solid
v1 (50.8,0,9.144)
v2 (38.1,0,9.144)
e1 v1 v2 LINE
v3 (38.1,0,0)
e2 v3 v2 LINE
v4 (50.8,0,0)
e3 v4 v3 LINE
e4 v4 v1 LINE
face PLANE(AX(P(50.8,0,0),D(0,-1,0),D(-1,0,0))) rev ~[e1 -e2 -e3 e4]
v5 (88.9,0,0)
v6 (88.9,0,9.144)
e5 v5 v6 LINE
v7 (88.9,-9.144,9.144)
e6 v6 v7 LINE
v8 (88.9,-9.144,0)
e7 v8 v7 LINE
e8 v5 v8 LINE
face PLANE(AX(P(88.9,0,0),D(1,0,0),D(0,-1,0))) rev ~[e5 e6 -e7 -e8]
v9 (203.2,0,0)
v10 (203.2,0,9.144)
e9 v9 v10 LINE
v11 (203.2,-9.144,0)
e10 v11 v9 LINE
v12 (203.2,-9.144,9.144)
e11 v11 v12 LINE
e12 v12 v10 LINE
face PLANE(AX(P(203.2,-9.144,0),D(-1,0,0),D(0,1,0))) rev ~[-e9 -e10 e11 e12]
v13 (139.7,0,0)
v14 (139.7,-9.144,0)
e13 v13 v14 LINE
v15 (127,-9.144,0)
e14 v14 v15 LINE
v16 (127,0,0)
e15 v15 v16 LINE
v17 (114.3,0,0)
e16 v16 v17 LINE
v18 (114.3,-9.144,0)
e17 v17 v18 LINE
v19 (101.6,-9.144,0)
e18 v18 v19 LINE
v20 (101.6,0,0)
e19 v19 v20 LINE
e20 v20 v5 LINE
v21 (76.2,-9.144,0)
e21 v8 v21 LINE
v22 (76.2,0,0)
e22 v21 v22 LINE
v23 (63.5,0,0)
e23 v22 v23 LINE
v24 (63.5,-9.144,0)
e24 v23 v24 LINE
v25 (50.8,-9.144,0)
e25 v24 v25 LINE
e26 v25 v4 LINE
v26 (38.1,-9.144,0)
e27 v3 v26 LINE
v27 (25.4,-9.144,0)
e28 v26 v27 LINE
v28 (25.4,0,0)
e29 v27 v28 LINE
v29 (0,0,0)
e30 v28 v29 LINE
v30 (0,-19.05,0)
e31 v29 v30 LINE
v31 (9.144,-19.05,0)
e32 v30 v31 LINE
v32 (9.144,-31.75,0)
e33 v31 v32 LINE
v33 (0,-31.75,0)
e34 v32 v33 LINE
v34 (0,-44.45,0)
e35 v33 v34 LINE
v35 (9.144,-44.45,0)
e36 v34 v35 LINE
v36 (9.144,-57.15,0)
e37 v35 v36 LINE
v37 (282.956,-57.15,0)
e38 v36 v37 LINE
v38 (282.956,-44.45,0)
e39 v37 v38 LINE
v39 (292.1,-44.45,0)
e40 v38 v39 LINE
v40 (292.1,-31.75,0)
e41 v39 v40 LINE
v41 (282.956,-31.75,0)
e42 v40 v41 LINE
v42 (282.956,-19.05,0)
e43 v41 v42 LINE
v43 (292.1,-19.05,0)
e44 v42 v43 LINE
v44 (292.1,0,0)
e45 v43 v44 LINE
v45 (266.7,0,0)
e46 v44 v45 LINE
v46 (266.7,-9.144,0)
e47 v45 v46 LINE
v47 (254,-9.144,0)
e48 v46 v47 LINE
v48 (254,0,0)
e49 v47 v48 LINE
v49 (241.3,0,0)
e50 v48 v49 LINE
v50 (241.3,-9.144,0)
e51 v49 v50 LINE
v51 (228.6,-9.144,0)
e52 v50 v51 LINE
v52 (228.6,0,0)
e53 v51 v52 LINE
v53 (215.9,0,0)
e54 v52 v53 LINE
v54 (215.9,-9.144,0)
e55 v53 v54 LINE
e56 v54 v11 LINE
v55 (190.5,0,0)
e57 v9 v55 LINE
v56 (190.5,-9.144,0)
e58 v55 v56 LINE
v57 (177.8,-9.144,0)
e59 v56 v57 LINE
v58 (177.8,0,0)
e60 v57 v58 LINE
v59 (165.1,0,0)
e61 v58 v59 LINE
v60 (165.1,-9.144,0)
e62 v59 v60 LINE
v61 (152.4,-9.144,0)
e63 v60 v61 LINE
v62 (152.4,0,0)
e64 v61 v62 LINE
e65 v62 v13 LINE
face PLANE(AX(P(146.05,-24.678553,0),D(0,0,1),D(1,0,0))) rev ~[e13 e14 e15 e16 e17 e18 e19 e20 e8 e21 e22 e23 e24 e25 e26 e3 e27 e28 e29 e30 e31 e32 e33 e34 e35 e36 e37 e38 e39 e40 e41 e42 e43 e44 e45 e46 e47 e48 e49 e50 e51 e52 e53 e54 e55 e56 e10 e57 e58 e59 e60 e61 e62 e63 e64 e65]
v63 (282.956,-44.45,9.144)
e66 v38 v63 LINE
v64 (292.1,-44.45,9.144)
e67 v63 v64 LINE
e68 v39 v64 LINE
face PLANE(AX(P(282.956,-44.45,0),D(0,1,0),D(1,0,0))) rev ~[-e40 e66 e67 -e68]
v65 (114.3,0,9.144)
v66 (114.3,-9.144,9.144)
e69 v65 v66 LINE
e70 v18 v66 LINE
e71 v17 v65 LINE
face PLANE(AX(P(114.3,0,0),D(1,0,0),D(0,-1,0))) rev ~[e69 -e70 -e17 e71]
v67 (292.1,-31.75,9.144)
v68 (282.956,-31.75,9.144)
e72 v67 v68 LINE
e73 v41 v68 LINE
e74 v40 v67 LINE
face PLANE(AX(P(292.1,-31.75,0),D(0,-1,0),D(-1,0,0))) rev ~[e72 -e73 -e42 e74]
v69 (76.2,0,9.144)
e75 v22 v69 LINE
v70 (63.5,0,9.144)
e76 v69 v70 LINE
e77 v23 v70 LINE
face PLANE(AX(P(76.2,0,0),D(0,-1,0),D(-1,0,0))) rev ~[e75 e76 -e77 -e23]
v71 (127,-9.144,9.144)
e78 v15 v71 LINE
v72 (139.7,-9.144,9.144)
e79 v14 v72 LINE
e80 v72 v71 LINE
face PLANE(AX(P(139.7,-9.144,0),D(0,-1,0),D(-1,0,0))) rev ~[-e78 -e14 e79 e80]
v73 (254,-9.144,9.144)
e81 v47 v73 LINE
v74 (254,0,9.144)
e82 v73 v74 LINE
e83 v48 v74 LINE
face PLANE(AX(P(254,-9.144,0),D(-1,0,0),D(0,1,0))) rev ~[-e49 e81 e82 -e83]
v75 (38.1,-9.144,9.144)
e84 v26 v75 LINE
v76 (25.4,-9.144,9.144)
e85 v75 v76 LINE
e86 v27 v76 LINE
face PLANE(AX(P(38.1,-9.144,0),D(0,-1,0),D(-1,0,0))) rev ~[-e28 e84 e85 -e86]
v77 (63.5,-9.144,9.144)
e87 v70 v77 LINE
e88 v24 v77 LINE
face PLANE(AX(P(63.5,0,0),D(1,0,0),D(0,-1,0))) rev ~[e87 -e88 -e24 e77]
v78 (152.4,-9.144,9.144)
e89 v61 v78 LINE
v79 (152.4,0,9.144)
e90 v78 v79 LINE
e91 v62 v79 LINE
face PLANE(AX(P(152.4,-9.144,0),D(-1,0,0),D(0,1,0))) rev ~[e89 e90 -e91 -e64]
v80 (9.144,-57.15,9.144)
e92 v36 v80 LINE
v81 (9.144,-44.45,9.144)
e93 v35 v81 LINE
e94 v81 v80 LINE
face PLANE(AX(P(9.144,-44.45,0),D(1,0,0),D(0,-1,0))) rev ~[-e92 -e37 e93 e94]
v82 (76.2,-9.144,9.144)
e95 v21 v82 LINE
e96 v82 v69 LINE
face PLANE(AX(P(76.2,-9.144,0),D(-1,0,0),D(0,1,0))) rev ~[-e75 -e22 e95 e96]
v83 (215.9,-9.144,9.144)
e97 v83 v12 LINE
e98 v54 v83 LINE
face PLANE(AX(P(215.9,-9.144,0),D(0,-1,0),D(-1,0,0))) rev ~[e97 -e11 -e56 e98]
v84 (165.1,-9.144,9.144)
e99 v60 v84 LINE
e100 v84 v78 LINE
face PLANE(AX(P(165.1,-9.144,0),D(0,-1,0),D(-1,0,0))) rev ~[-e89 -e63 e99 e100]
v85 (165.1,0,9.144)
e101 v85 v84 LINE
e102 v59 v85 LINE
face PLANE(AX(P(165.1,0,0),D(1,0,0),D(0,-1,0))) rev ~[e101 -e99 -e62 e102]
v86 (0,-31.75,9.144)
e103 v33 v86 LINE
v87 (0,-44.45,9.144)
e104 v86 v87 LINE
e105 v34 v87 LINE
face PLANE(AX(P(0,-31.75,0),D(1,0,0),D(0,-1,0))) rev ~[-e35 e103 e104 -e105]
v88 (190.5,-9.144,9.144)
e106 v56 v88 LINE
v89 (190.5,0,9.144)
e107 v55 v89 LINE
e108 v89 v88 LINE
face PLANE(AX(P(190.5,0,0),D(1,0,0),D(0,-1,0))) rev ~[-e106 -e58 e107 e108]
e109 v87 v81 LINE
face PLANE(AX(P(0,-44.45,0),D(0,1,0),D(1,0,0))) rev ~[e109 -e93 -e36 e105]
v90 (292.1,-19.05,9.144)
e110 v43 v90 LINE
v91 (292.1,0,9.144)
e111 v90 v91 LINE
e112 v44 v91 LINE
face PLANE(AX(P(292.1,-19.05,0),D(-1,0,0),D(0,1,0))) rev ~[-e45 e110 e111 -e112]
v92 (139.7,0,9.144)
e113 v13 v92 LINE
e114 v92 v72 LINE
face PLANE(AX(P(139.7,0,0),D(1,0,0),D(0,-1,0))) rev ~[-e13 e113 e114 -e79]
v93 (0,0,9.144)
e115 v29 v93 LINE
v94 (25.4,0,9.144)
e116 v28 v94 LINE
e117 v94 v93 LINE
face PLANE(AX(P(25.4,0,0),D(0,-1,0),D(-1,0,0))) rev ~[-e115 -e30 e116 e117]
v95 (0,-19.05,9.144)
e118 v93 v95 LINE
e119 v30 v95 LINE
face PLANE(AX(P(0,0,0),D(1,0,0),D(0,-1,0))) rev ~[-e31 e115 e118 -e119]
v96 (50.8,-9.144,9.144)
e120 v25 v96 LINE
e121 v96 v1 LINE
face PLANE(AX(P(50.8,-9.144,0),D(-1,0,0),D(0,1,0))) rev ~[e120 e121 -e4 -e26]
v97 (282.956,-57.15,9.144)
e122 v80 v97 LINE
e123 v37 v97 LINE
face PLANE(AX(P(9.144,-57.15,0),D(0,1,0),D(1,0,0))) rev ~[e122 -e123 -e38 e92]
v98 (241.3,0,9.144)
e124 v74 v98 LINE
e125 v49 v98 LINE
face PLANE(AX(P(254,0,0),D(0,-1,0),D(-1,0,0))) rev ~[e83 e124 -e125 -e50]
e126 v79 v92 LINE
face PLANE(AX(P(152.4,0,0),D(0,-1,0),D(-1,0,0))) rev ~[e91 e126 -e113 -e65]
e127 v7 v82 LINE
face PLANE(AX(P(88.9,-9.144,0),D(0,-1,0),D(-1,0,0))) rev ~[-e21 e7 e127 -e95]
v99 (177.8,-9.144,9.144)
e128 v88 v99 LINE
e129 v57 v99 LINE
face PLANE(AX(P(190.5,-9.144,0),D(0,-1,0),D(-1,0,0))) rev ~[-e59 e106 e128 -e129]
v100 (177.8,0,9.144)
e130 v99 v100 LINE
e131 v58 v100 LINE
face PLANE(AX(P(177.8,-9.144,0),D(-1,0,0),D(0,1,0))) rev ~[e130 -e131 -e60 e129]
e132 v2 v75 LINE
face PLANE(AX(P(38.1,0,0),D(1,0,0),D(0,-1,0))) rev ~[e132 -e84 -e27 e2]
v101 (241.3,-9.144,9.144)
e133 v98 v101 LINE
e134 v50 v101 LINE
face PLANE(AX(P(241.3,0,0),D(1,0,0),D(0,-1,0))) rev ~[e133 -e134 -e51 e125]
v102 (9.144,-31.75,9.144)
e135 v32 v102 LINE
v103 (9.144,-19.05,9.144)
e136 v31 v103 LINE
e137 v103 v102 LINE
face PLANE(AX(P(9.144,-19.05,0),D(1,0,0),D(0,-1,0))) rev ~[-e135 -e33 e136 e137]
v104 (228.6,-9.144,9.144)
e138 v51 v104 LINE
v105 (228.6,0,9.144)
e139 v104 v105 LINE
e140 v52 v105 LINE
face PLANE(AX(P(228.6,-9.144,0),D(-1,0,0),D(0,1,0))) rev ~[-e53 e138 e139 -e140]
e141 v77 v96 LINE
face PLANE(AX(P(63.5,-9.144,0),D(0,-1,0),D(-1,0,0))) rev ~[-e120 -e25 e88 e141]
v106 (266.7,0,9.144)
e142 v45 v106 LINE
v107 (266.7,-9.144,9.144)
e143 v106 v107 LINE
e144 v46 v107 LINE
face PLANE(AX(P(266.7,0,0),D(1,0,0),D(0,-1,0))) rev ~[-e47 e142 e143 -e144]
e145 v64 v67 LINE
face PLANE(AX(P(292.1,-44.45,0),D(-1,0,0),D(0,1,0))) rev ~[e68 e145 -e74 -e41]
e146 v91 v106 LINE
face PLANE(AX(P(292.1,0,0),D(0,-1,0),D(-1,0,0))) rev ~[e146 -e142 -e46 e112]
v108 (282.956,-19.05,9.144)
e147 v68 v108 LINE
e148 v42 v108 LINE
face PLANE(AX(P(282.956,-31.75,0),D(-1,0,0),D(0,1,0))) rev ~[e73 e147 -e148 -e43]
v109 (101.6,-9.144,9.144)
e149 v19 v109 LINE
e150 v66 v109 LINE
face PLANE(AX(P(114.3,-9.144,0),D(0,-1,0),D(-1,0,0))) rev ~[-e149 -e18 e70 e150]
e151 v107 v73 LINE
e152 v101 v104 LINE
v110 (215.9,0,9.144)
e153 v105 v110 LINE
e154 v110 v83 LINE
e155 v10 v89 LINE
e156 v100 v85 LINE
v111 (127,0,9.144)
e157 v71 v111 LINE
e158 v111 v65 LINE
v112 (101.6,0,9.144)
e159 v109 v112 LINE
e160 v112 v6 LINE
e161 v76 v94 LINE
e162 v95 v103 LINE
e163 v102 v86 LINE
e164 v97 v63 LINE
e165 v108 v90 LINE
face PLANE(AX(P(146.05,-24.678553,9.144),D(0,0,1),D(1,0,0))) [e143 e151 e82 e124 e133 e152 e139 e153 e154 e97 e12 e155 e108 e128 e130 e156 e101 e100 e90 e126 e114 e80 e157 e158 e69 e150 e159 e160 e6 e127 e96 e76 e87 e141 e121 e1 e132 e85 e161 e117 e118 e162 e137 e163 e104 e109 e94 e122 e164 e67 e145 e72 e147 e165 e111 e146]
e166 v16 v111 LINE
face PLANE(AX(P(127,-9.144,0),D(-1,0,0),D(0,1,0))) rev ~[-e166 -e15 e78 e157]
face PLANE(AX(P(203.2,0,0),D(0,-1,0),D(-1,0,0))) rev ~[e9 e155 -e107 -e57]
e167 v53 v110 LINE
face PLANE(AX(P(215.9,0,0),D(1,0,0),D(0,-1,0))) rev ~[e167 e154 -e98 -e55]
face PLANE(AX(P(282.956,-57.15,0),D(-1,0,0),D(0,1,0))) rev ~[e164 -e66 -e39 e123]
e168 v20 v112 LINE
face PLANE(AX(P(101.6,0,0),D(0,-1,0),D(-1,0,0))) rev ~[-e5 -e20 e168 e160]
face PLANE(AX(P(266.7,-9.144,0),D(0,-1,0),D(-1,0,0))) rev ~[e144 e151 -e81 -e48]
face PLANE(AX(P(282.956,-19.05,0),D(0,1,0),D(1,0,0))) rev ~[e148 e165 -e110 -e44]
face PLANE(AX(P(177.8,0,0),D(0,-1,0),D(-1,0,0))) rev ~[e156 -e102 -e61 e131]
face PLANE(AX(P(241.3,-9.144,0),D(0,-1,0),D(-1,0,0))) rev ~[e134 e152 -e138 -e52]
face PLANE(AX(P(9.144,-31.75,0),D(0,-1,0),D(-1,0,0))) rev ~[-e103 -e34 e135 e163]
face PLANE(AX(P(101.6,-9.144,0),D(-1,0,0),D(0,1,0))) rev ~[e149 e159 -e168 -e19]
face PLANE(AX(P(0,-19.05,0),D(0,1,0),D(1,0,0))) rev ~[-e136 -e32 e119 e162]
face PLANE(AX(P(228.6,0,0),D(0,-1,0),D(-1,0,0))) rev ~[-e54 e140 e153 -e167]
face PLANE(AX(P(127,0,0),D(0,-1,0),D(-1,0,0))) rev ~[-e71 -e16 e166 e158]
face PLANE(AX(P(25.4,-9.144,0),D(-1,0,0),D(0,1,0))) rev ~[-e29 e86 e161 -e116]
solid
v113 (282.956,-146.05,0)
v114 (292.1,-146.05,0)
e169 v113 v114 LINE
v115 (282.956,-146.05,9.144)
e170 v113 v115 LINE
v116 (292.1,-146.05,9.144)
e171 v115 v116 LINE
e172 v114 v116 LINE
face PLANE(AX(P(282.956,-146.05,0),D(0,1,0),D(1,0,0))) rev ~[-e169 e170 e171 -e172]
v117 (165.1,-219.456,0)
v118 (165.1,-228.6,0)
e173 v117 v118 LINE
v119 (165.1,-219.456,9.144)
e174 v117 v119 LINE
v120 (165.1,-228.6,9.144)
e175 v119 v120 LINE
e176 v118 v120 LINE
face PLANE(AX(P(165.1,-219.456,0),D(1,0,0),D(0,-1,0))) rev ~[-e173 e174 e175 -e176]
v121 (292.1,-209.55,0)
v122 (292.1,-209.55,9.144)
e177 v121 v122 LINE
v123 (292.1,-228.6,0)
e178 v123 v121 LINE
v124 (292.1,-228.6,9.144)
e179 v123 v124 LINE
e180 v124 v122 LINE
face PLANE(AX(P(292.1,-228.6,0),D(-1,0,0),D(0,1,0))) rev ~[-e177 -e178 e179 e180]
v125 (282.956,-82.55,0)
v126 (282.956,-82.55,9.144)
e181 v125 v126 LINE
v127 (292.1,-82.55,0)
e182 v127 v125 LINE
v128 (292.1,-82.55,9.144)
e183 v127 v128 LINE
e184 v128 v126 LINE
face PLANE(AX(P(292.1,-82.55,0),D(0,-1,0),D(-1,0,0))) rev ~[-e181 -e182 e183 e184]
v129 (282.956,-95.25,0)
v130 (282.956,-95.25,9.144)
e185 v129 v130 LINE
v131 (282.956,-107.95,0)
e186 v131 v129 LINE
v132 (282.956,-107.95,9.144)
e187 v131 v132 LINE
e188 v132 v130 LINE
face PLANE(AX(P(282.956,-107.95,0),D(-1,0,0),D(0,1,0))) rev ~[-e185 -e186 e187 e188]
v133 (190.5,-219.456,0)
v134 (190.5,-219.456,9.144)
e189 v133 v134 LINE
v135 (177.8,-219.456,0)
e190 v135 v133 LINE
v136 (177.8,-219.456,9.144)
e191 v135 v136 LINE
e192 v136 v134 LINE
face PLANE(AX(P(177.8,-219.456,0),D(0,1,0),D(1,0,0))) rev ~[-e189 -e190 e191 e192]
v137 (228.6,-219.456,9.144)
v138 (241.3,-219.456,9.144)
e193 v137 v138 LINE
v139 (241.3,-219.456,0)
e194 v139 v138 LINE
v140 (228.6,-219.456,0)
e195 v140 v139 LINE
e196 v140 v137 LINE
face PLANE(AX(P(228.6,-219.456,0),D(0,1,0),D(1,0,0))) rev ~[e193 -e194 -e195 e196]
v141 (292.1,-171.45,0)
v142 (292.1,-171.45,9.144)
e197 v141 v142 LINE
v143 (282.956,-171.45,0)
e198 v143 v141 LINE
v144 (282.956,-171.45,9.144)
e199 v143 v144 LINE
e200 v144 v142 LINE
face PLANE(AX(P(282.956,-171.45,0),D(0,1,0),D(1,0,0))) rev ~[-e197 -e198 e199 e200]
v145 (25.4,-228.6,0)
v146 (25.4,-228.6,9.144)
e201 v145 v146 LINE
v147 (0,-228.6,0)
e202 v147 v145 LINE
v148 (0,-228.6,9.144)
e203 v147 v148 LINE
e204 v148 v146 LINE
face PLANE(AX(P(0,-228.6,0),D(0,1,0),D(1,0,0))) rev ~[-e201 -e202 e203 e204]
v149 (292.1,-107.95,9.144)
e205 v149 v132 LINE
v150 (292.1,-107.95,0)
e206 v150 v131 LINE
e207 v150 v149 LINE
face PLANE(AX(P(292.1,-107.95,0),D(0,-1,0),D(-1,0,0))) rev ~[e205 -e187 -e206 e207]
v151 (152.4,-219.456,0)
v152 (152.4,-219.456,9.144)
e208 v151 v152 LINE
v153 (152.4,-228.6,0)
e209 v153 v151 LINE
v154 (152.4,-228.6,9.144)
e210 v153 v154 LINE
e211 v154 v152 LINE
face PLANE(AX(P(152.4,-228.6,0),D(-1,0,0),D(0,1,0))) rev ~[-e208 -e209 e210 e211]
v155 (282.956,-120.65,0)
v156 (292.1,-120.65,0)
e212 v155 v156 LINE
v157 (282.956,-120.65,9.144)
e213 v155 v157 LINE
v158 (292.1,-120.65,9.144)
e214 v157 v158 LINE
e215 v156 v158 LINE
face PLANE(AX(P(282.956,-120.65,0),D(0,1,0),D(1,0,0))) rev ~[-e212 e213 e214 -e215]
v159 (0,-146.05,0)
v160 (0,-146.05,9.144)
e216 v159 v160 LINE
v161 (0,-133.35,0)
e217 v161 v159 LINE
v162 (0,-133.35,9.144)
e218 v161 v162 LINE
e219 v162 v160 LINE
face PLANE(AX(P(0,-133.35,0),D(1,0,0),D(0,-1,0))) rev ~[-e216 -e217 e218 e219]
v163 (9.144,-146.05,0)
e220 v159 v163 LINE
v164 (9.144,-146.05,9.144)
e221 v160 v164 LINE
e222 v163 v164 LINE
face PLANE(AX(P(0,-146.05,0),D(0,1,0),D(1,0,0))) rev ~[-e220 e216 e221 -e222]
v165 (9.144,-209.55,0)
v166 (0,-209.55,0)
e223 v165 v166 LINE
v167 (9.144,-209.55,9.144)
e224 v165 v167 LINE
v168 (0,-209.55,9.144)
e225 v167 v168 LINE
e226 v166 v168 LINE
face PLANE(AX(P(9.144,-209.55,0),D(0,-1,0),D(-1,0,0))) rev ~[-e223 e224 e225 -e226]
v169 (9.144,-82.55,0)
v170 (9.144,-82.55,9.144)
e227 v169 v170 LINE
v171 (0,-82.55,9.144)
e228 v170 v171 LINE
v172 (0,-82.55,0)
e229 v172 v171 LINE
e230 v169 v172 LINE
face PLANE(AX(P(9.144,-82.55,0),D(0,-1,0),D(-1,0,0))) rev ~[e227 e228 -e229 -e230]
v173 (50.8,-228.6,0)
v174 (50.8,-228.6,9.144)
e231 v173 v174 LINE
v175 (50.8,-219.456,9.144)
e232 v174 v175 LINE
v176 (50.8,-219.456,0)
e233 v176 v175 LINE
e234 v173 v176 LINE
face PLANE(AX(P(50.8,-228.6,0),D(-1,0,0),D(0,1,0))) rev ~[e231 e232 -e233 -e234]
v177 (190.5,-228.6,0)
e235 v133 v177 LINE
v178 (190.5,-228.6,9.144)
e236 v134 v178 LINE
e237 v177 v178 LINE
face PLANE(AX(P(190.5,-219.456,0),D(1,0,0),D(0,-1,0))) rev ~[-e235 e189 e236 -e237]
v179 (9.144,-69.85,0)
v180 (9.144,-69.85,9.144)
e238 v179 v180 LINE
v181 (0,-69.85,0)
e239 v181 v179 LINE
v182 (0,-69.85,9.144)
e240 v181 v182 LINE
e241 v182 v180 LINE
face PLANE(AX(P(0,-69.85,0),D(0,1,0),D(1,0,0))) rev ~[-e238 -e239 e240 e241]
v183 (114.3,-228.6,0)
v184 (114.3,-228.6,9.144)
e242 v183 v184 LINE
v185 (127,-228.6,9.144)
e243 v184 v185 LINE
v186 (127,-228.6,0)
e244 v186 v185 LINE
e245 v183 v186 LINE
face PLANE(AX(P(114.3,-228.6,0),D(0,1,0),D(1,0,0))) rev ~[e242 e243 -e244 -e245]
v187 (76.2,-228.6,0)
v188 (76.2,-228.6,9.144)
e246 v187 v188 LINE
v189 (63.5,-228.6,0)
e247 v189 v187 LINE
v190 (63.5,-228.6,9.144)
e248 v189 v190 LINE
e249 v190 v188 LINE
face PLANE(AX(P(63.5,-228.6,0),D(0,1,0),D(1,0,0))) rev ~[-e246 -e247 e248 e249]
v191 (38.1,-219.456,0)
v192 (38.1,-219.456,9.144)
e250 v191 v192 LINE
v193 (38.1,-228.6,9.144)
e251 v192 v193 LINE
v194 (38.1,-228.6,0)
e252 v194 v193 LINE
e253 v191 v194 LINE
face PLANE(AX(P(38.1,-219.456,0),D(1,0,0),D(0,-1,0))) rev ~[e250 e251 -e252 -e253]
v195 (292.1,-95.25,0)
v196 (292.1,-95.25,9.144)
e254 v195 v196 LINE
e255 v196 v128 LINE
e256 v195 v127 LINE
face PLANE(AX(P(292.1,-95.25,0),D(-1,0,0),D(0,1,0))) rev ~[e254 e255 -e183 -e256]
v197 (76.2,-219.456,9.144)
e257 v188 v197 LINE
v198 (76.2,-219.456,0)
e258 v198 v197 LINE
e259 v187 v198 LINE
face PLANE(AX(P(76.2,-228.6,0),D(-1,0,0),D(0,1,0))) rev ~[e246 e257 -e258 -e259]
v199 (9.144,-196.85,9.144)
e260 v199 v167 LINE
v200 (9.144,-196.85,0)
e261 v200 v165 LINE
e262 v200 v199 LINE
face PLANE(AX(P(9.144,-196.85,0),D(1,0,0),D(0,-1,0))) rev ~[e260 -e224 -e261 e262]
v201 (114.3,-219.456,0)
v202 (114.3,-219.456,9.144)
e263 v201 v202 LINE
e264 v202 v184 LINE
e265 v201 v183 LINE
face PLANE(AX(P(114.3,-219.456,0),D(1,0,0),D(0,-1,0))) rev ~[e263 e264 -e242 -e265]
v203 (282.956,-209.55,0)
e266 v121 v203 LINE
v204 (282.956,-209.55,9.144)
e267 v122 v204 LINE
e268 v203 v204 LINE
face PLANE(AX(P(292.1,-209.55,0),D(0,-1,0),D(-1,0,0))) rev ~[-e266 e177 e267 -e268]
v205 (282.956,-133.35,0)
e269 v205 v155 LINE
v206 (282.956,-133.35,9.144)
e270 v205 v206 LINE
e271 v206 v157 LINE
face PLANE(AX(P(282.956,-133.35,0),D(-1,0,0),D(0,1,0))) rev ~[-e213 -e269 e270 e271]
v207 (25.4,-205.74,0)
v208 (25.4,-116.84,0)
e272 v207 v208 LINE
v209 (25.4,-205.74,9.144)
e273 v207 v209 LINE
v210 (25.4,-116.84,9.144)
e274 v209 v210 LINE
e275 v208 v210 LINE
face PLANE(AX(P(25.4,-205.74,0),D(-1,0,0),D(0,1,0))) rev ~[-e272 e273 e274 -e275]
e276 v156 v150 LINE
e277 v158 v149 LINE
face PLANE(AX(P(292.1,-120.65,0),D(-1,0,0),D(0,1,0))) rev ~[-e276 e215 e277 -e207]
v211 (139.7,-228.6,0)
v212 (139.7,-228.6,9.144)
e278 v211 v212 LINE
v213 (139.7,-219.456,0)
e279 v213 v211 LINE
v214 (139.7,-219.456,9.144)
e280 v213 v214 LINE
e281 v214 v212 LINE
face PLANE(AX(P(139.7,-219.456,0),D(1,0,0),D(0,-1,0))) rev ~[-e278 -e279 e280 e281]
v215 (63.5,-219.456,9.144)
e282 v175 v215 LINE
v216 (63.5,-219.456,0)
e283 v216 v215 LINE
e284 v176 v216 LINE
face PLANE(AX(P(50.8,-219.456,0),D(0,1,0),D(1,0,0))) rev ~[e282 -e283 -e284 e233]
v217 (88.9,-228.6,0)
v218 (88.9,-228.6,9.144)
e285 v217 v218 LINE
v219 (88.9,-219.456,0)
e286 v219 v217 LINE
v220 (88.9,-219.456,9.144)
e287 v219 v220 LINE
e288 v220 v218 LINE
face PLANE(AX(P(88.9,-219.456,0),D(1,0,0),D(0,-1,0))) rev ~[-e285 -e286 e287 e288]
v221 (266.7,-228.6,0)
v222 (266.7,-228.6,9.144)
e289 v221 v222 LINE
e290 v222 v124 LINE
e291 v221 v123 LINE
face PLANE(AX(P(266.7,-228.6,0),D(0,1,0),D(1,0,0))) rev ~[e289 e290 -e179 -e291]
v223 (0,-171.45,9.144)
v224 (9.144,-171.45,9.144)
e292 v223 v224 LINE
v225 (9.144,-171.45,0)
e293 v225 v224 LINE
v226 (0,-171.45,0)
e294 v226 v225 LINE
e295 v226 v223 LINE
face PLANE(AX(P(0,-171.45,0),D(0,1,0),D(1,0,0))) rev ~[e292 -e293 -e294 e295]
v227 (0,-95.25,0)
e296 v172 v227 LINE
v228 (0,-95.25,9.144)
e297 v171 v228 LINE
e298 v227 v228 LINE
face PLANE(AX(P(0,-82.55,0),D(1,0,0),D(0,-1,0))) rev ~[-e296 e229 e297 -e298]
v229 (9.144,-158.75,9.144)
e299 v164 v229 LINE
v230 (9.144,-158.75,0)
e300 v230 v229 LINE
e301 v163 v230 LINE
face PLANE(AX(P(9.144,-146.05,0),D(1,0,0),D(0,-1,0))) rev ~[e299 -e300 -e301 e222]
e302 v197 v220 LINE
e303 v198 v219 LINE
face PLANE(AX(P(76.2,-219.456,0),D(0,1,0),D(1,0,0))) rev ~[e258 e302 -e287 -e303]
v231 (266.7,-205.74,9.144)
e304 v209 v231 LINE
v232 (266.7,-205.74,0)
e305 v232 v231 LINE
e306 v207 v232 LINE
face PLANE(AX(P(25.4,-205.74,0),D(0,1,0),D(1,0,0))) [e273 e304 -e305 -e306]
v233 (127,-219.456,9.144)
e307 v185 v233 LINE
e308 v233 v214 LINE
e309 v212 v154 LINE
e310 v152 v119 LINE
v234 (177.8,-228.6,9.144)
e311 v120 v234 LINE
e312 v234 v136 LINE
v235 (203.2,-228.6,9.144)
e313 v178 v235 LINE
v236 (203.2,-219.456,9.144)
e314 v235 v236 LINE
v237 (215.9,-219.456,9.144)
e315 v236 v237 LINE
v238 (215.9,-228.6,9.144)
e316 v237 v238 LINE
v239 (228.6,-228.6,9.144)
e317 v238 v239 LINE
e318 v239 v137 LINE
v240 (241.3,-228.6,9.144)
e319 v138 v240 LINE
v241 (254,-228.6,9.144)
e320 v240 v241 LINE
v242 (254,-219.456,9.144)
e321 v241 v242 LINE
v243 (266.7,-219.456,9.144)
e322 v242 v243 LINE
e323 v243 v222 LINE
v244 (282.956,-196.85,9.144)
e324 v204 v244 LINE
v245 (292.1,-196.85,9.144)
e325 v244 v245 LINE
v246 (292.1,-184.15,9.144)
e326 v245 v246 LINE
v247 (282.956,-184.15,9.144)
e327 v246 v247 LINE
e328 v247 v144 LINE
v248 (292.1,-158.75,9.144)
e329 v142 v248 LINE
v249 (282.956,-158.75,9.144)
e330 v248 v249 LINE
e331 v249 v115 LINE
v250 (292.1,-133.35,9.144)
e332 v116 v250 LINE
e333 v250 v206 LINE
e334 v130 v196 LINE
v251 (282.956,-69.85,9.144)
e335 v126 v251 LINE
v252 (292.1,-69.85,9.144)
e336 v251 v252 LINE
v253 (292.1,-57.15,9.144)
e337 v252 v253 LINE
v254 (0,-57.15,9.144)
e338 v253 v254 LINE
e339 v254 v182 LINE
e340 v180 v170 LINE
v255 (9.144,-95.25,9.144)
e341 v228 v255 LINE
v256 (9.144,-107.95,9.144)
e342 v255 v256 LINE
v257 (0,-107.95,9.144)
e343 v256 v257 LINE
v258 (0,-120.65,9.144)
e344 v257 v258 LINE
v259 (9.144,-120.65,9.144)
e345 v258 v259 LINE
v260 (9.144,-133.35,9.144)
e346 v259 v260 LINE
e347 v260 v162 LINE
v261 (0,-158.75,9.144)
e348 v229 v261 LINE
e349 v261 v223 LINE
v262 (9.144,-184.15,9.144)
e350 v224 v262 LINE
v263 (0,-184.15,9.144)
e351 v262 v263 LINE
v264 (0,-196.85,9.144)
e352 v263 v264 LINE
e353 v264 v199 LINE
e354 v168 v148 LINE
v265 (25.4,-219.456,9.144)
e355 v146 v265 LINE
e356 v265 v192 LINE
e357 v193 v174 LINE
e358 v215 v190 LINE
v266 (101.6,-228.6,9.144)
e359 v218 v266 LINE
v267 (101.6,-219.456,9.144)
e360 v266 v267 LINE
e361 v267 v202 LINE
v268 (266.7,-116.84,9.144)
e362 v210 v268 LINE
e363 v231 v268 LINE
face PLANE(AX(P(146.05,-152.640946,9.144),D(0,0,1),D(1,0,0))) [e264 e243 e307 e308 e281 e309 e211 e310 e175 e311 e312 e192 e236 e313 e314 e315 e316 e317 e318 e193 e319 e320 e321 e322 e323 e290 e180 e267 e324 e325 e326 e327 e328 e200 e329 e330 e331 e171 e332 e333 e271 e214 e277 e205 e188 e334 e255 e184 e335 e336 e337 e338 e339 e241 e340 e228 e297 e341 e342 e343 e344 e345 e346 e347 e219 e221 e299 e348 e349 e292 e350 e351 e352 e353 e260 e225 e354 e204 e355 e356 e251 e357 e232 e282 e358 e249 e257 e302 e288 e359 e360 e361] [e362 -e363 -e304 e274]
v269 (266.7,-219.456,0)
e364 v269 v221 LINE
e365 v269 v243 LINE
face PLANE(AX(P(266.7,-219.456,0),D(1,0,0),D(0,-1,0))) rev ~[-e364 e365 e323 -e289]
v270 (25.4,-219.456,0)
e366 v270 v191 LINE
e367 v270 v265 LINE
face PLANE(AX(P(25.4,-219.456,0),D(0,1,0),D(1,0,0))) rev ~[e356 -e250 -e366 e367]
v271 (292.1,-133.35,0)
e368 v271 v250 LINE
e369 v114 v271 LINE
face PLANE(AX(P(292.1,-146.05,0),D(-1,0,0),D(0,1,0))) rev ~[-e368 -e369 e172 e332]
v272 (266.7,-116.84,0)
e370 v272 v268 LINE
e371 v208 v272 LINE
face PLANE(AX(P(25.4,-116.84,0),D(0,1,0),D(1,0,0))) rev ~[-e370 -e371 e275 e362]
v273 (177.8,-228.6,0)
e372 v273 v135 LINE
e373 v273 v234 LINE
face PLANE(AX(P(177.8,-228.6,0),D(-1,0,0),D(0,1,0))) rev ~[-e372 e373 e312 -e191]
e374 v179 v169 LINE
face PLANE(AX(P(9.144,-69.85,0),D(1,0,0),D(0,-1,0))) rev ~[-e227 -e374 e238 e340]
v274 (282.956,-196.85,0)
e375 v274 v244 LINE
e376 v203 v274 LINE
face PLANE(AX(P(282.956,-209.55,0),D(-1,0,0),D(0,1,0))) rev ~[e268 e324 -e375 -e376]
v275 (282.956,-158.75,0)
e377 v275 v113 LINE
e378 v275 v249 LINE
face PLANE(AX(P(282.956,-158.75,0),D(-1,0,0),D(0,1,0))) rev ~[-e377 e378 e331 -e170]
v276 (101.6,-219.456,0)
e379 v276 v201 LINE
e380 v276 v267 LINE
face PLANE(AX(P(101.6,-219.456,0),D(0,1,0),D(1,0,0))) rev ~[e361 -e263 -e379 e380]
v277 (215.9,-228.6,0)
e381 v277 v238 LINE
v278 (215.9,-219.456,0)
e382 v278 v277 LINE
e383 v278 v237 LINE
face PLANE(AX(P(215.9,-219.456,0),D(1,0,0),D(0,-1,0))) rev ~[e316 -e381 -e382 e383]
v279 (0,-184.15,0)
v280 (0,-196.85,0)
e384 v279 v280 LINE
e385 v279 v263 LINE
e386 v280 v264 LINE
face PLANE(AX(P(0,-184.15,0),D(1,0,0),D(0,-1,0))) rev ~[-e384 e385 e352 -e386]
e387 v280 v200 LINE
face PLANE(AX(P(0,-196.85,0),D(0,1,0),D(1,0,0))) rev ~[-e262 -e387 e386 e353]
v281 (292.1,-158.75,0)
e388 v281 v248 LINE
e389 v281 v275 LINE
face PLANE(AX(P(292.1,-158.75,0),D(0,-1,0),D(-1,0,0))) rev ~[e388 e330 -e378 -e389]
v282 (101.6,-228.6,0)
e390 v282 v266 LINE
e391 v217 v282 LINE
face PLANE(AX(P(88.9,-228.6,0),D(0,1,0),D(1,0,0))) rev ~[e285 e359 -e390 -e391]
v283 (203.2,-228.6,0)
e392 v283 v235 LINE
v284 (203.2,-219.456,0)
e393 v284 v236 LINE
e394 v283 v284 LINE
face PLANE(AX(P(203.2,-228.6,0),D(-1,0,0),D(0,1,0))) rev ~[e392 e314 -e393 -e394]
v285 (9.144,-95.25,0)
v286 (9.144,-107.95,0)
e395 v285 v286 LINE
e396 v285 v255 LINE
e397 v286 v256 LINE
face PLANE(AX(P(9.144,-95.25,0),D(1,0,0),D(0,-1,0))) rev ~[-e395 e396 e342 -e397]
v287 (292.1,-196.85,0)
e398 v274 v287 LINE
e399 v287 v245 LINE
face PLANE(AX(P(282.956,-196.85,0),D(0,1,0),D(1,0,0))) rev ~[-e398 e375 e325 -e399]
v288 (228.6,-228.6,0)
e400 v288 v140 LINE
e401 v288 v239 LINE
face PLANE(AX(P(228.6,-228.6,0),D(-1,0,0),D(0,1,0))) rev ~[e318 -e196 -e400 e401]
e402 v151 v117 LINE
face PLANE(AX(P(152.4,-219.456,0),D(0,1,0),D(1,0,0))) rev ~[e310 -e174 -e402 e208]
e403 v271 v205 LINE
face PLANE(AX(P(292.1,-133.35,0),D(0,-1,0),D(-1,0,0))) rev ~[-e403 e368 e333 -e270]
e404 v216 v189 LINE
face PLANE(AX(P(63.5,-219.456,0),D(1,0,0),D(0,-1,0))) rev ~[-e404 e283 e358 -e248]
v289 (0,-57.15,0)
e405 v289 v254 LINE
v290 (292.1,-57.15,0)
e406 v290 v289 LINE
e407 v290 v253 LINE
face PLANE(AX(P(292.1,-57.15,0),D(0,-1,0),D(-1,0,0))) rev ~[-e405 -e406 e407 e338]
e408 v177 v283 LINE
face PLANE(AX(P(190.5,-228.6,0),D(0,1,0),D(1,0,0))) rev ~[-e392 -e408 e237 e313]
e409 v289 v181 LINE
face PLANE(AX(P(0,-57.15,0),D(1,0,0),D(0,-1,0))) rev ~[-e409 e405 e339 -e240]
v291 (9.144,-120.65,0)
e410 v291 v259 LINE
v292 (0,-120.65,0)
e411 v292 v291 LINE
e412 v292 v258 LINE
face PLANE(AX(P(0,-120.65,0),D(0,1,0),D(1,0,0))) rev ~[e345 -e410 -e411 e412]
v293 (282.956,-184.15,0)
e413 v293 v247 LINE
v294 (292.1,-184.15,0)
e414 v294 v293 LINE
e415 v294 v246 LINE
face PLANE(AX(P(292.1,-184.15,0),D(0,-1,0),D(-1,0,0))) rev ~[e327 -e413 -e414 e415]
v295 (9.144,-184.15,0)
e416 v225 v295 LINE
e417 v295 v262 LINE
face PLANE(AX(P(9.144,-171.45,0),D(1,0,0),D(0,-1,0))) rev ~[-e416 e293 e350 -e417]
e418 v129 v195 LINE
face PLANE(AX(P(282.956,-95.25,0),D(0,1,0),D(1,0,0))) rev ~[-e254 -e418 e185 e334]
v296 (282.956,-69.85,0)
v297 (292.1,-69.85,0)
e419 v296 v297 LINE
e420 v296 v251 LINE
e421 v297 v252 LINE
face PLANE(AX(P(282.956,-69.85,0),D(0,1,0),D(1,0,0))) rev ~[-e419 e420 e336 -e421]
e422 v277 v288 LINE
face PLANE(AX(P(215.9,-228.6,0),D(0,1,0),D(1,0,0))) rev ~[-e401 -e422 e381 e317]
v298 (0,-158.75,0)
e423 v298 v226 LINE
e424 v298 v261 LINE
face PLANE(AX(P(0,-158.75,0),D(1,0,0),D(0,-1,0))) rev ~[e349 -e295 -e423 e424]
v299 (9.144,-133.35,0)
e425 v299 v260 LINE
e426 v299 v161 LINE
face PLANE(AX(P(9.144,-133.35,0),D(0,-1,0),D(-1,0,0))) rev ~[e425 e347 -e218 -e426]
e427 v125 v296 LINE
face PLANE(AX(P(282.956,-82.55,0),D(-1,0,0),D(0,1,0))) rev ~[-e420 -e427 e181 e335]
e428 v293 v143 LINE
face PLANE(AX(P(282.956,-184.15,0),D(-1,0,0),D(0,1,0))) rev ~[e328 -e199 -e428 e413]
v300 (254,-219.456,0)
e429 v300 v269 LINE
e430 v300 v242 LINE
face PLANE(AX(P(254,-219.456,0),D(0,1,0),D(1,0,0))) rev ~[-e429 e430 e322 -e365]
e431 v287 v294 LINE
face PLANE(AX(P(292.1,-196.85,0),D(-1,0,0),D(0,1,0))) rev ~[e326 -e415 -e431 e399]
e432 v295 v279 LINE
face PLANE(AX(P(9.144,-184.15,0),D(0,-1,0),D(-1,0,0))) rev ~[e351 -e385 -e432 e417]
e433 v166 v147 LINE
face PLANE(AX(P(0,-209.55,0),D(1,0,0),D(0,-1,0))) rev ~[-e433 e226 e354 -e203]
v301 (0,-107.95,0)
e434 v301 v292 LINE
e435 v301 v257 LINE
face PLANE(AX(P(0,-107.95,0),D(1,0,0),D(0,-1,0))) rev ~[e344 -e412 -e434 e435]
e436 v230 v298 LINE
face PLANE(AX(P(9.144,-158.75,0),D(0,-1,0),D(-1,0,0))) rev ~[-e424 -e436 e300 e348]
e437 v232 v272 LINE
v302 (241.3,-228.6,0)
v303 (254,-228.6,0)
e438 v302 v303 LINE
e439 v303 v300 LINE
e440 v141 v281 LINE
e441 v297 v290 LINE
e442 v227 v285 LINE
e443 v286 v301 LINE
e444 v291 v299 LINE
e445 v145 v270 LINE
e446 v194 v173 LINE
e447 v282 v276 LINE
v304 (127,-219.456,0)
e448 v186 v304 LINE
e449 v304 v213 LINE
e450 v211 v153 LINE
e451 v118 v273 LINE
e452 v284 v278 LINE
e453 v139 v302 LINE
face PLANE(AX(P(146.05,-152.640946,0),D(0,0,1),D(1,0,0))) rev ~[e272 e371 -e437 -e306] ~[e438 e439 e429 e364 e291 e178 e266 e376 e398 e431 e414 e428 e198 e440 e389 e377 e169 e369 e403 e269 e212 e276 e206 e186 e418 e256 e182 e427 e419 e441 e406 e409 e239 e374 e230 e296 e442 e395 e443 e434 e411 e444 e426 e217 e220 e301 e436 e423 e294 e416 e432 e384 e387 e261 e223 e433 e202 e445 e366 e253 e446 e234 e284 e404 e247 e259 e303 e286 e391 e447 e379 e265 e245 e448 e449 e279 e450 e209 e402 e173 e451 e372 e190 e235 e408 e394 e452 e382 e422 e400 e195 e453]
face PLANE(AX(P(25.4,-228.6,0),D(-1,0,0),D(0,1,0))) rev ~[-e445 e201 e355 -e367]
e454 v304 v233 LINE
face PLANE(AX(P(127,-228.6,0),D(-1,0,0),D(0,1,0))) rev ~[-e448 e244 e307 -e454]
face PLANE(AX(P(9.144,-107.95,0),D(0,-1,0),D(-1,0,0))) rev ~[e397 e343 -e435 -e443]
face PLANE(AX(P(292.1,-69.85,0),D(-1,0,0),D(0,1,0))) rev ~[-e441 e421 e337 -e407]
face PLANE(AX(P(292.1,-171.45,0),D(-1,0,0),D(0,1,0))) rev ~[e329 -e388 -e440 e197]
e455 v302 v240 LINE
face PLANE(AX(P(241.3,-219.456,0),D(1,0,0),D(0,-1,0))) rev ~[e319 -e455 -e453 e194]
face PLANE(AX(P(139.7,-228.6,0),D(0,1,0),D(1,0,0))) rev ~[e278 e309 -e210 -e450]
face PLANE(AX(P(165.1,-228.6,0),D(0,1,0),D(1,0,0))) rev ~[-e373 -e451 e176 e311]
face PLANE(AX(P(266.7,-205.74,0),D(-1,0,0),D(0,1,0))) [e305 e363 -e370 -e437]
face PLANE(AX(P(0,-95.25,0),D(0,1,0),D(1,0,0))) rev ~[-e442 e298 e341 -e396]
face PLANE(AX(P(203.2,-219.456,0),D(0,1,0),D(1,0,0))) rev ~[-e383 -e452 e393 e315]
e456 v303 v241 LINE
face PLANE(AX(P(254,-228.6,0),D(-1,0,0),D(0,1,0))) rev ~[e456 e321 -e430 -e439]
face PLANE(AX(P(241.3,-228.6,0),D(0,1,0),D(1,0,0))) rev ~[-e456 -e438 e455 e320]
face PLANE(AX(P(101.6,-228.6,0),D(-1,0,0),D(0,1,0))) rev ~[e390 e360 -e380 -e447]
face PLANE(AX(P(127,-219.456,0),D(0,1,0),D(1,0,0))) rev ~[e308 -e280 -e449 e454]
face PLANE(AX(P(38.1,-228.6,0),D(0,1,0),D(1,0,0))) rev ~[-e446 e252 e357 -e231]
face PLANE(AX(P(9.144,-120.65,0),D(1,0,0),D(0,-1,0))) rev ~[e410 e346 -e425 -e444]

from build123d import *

# Parameters (mm, degrees)
F1_DEPTH = 9.144
F0_W     = 241.3
F0_H     = 88.9
F2_DEPTH = 9.144


with BuildPart() as f1:
    # F0 (on Top) → F1 (new body)
    with BuildSketch(Plane.XY):
        Polygon((25.4, 0), (0, 0), (0, -19.05), (9.144, -19.05), (9.144, -31.75), (0, -31.75), (0, -44.45), (9.144, -44.45), (9.144, -57.15), (282.956, -57.15), (282.956, -44.45), (292.1, -44.45), (292.1, -31.75), (282.956, -31.75), (282.956, -19.05), (292.1, -19.05), (292.1, 0), (266.7, 0), (266.7, -9.144), (254, -9.144), (254, 0), (241.3, 0), (241.3, -9.144), (228.6, -9.144), (228.6, 0), (215.9, 0), (215.9, -9.144), (203.2, -9.144), (203.2, 0), (190.5, 0), (190.5, -9.144), (177.8, -9.144), (177.8, 0), (165.1, 0), (165.1, -9.144), (152.4, -9.144), (152.4, 0), (139.7, 0), (139.7, -9.144), (127, -9.144), (127, 0), (114.3, 0), (114.3, -9.144), (101.6, -9.144), (101.6, 0), (88.9, 0), (88.9, -9.144), (76.2, -9.144), (76.2, 0), (63.5, 0), (63.5, -9.144), (50.8, -9.144), (50.8, 0), (38.1, 0), (38.1, -9.144), (25.4, -9.144), align=None)
    extrude(amount=F1_DEPTH)


with BuildPart() as f2:
    # F0 (on Top) → F2 (new body)
    with BuildSketch(Plane.XY):
        Polygon((282.956, -57.15), (9.144, -57.15), (0, -57.15), (0, -69.85), (9.144, -69.85), (9.144, -82.55), (0, -82.55), (0, -95.25), (9.144, -95.25), (9.144, -107.95), (0, -107.95), (0, -120.65), (9.144, -120.65), (9.144, -133.35), (0, -133.35), (0, -146.05), (9.144, -146.05), (9.144, -158.75), (0, -158.75), (0, -171.45), (9.144, -171.45), (9.144, -184.15), (0, -184.15), (0, -196.85), (9.144, -196.85), (9.144, -209.55), (0, -209.55), (0, -228.6), (25.4, -228.6), (25.4, -219.456), (38.1, -219.456), (38.1, -228.6), (50.8, -228.6), (50.8, -219.456), (63.5, -219.456), (63.5, -228.6), (76.2, -228.6), (76.2, -219.456), (88.9, -219.456), (88.9, -228.6), (101.6, -228.6), (101.6, -219.456), (114.3, -219.456), (114.3, -228.6), (127, -228.6), (127, -219.456), (139.7, -219.456), (139.7, -228.6), (152.4, -228.6), (152.4, -219.456), (165.1, -219.456), (165.1, -228.6), (177.8, -228.6), (177.8, -219.456), (190.5, -219.456), (190.5, -228.6), (203.2, -228.6), (203.2, -219.456), (215.9, -219.456), (215.9, -228.6), (228.6, -228.6), (228.6, -219.456), (241.3, -219.456), (241.3, -228.6), (254, -228.6), (254, -219.456), (266.7, -219.456), (266.7, -228.6), (292.1, -228.6), (292.1, -209.55), (282.956, -209.55), (282.956, -196.85), (292.1, -196.85), (292.1, -184.15), (282.956, -184.15), (282.956, -171.45), (292.1, -171.45), (292.1, -158.75), (282.956, -158.75), (282.956, -146.05), (292.1, -146.05), (292.1, -133.35), (282.956, -133.35), (282.956, -120.65), (292.1, -120.65), (292.1, -107.95), (282.956, -107.95), (282.956, -95.25), (292.1, -95.25), (292.1, -82.55), (282.956, -82.55), (282.956, -69.85), (292.1, -69.85), (292.1, -57.15), align=None)
        with Locations((146.05, -161.29)):
            Rectangle(F0_W, F0_H, mode=Mode.SUBTRACT)
    extrude(amount=F2_DEPTH)


solid = Compound([f1.part, f2.part])
